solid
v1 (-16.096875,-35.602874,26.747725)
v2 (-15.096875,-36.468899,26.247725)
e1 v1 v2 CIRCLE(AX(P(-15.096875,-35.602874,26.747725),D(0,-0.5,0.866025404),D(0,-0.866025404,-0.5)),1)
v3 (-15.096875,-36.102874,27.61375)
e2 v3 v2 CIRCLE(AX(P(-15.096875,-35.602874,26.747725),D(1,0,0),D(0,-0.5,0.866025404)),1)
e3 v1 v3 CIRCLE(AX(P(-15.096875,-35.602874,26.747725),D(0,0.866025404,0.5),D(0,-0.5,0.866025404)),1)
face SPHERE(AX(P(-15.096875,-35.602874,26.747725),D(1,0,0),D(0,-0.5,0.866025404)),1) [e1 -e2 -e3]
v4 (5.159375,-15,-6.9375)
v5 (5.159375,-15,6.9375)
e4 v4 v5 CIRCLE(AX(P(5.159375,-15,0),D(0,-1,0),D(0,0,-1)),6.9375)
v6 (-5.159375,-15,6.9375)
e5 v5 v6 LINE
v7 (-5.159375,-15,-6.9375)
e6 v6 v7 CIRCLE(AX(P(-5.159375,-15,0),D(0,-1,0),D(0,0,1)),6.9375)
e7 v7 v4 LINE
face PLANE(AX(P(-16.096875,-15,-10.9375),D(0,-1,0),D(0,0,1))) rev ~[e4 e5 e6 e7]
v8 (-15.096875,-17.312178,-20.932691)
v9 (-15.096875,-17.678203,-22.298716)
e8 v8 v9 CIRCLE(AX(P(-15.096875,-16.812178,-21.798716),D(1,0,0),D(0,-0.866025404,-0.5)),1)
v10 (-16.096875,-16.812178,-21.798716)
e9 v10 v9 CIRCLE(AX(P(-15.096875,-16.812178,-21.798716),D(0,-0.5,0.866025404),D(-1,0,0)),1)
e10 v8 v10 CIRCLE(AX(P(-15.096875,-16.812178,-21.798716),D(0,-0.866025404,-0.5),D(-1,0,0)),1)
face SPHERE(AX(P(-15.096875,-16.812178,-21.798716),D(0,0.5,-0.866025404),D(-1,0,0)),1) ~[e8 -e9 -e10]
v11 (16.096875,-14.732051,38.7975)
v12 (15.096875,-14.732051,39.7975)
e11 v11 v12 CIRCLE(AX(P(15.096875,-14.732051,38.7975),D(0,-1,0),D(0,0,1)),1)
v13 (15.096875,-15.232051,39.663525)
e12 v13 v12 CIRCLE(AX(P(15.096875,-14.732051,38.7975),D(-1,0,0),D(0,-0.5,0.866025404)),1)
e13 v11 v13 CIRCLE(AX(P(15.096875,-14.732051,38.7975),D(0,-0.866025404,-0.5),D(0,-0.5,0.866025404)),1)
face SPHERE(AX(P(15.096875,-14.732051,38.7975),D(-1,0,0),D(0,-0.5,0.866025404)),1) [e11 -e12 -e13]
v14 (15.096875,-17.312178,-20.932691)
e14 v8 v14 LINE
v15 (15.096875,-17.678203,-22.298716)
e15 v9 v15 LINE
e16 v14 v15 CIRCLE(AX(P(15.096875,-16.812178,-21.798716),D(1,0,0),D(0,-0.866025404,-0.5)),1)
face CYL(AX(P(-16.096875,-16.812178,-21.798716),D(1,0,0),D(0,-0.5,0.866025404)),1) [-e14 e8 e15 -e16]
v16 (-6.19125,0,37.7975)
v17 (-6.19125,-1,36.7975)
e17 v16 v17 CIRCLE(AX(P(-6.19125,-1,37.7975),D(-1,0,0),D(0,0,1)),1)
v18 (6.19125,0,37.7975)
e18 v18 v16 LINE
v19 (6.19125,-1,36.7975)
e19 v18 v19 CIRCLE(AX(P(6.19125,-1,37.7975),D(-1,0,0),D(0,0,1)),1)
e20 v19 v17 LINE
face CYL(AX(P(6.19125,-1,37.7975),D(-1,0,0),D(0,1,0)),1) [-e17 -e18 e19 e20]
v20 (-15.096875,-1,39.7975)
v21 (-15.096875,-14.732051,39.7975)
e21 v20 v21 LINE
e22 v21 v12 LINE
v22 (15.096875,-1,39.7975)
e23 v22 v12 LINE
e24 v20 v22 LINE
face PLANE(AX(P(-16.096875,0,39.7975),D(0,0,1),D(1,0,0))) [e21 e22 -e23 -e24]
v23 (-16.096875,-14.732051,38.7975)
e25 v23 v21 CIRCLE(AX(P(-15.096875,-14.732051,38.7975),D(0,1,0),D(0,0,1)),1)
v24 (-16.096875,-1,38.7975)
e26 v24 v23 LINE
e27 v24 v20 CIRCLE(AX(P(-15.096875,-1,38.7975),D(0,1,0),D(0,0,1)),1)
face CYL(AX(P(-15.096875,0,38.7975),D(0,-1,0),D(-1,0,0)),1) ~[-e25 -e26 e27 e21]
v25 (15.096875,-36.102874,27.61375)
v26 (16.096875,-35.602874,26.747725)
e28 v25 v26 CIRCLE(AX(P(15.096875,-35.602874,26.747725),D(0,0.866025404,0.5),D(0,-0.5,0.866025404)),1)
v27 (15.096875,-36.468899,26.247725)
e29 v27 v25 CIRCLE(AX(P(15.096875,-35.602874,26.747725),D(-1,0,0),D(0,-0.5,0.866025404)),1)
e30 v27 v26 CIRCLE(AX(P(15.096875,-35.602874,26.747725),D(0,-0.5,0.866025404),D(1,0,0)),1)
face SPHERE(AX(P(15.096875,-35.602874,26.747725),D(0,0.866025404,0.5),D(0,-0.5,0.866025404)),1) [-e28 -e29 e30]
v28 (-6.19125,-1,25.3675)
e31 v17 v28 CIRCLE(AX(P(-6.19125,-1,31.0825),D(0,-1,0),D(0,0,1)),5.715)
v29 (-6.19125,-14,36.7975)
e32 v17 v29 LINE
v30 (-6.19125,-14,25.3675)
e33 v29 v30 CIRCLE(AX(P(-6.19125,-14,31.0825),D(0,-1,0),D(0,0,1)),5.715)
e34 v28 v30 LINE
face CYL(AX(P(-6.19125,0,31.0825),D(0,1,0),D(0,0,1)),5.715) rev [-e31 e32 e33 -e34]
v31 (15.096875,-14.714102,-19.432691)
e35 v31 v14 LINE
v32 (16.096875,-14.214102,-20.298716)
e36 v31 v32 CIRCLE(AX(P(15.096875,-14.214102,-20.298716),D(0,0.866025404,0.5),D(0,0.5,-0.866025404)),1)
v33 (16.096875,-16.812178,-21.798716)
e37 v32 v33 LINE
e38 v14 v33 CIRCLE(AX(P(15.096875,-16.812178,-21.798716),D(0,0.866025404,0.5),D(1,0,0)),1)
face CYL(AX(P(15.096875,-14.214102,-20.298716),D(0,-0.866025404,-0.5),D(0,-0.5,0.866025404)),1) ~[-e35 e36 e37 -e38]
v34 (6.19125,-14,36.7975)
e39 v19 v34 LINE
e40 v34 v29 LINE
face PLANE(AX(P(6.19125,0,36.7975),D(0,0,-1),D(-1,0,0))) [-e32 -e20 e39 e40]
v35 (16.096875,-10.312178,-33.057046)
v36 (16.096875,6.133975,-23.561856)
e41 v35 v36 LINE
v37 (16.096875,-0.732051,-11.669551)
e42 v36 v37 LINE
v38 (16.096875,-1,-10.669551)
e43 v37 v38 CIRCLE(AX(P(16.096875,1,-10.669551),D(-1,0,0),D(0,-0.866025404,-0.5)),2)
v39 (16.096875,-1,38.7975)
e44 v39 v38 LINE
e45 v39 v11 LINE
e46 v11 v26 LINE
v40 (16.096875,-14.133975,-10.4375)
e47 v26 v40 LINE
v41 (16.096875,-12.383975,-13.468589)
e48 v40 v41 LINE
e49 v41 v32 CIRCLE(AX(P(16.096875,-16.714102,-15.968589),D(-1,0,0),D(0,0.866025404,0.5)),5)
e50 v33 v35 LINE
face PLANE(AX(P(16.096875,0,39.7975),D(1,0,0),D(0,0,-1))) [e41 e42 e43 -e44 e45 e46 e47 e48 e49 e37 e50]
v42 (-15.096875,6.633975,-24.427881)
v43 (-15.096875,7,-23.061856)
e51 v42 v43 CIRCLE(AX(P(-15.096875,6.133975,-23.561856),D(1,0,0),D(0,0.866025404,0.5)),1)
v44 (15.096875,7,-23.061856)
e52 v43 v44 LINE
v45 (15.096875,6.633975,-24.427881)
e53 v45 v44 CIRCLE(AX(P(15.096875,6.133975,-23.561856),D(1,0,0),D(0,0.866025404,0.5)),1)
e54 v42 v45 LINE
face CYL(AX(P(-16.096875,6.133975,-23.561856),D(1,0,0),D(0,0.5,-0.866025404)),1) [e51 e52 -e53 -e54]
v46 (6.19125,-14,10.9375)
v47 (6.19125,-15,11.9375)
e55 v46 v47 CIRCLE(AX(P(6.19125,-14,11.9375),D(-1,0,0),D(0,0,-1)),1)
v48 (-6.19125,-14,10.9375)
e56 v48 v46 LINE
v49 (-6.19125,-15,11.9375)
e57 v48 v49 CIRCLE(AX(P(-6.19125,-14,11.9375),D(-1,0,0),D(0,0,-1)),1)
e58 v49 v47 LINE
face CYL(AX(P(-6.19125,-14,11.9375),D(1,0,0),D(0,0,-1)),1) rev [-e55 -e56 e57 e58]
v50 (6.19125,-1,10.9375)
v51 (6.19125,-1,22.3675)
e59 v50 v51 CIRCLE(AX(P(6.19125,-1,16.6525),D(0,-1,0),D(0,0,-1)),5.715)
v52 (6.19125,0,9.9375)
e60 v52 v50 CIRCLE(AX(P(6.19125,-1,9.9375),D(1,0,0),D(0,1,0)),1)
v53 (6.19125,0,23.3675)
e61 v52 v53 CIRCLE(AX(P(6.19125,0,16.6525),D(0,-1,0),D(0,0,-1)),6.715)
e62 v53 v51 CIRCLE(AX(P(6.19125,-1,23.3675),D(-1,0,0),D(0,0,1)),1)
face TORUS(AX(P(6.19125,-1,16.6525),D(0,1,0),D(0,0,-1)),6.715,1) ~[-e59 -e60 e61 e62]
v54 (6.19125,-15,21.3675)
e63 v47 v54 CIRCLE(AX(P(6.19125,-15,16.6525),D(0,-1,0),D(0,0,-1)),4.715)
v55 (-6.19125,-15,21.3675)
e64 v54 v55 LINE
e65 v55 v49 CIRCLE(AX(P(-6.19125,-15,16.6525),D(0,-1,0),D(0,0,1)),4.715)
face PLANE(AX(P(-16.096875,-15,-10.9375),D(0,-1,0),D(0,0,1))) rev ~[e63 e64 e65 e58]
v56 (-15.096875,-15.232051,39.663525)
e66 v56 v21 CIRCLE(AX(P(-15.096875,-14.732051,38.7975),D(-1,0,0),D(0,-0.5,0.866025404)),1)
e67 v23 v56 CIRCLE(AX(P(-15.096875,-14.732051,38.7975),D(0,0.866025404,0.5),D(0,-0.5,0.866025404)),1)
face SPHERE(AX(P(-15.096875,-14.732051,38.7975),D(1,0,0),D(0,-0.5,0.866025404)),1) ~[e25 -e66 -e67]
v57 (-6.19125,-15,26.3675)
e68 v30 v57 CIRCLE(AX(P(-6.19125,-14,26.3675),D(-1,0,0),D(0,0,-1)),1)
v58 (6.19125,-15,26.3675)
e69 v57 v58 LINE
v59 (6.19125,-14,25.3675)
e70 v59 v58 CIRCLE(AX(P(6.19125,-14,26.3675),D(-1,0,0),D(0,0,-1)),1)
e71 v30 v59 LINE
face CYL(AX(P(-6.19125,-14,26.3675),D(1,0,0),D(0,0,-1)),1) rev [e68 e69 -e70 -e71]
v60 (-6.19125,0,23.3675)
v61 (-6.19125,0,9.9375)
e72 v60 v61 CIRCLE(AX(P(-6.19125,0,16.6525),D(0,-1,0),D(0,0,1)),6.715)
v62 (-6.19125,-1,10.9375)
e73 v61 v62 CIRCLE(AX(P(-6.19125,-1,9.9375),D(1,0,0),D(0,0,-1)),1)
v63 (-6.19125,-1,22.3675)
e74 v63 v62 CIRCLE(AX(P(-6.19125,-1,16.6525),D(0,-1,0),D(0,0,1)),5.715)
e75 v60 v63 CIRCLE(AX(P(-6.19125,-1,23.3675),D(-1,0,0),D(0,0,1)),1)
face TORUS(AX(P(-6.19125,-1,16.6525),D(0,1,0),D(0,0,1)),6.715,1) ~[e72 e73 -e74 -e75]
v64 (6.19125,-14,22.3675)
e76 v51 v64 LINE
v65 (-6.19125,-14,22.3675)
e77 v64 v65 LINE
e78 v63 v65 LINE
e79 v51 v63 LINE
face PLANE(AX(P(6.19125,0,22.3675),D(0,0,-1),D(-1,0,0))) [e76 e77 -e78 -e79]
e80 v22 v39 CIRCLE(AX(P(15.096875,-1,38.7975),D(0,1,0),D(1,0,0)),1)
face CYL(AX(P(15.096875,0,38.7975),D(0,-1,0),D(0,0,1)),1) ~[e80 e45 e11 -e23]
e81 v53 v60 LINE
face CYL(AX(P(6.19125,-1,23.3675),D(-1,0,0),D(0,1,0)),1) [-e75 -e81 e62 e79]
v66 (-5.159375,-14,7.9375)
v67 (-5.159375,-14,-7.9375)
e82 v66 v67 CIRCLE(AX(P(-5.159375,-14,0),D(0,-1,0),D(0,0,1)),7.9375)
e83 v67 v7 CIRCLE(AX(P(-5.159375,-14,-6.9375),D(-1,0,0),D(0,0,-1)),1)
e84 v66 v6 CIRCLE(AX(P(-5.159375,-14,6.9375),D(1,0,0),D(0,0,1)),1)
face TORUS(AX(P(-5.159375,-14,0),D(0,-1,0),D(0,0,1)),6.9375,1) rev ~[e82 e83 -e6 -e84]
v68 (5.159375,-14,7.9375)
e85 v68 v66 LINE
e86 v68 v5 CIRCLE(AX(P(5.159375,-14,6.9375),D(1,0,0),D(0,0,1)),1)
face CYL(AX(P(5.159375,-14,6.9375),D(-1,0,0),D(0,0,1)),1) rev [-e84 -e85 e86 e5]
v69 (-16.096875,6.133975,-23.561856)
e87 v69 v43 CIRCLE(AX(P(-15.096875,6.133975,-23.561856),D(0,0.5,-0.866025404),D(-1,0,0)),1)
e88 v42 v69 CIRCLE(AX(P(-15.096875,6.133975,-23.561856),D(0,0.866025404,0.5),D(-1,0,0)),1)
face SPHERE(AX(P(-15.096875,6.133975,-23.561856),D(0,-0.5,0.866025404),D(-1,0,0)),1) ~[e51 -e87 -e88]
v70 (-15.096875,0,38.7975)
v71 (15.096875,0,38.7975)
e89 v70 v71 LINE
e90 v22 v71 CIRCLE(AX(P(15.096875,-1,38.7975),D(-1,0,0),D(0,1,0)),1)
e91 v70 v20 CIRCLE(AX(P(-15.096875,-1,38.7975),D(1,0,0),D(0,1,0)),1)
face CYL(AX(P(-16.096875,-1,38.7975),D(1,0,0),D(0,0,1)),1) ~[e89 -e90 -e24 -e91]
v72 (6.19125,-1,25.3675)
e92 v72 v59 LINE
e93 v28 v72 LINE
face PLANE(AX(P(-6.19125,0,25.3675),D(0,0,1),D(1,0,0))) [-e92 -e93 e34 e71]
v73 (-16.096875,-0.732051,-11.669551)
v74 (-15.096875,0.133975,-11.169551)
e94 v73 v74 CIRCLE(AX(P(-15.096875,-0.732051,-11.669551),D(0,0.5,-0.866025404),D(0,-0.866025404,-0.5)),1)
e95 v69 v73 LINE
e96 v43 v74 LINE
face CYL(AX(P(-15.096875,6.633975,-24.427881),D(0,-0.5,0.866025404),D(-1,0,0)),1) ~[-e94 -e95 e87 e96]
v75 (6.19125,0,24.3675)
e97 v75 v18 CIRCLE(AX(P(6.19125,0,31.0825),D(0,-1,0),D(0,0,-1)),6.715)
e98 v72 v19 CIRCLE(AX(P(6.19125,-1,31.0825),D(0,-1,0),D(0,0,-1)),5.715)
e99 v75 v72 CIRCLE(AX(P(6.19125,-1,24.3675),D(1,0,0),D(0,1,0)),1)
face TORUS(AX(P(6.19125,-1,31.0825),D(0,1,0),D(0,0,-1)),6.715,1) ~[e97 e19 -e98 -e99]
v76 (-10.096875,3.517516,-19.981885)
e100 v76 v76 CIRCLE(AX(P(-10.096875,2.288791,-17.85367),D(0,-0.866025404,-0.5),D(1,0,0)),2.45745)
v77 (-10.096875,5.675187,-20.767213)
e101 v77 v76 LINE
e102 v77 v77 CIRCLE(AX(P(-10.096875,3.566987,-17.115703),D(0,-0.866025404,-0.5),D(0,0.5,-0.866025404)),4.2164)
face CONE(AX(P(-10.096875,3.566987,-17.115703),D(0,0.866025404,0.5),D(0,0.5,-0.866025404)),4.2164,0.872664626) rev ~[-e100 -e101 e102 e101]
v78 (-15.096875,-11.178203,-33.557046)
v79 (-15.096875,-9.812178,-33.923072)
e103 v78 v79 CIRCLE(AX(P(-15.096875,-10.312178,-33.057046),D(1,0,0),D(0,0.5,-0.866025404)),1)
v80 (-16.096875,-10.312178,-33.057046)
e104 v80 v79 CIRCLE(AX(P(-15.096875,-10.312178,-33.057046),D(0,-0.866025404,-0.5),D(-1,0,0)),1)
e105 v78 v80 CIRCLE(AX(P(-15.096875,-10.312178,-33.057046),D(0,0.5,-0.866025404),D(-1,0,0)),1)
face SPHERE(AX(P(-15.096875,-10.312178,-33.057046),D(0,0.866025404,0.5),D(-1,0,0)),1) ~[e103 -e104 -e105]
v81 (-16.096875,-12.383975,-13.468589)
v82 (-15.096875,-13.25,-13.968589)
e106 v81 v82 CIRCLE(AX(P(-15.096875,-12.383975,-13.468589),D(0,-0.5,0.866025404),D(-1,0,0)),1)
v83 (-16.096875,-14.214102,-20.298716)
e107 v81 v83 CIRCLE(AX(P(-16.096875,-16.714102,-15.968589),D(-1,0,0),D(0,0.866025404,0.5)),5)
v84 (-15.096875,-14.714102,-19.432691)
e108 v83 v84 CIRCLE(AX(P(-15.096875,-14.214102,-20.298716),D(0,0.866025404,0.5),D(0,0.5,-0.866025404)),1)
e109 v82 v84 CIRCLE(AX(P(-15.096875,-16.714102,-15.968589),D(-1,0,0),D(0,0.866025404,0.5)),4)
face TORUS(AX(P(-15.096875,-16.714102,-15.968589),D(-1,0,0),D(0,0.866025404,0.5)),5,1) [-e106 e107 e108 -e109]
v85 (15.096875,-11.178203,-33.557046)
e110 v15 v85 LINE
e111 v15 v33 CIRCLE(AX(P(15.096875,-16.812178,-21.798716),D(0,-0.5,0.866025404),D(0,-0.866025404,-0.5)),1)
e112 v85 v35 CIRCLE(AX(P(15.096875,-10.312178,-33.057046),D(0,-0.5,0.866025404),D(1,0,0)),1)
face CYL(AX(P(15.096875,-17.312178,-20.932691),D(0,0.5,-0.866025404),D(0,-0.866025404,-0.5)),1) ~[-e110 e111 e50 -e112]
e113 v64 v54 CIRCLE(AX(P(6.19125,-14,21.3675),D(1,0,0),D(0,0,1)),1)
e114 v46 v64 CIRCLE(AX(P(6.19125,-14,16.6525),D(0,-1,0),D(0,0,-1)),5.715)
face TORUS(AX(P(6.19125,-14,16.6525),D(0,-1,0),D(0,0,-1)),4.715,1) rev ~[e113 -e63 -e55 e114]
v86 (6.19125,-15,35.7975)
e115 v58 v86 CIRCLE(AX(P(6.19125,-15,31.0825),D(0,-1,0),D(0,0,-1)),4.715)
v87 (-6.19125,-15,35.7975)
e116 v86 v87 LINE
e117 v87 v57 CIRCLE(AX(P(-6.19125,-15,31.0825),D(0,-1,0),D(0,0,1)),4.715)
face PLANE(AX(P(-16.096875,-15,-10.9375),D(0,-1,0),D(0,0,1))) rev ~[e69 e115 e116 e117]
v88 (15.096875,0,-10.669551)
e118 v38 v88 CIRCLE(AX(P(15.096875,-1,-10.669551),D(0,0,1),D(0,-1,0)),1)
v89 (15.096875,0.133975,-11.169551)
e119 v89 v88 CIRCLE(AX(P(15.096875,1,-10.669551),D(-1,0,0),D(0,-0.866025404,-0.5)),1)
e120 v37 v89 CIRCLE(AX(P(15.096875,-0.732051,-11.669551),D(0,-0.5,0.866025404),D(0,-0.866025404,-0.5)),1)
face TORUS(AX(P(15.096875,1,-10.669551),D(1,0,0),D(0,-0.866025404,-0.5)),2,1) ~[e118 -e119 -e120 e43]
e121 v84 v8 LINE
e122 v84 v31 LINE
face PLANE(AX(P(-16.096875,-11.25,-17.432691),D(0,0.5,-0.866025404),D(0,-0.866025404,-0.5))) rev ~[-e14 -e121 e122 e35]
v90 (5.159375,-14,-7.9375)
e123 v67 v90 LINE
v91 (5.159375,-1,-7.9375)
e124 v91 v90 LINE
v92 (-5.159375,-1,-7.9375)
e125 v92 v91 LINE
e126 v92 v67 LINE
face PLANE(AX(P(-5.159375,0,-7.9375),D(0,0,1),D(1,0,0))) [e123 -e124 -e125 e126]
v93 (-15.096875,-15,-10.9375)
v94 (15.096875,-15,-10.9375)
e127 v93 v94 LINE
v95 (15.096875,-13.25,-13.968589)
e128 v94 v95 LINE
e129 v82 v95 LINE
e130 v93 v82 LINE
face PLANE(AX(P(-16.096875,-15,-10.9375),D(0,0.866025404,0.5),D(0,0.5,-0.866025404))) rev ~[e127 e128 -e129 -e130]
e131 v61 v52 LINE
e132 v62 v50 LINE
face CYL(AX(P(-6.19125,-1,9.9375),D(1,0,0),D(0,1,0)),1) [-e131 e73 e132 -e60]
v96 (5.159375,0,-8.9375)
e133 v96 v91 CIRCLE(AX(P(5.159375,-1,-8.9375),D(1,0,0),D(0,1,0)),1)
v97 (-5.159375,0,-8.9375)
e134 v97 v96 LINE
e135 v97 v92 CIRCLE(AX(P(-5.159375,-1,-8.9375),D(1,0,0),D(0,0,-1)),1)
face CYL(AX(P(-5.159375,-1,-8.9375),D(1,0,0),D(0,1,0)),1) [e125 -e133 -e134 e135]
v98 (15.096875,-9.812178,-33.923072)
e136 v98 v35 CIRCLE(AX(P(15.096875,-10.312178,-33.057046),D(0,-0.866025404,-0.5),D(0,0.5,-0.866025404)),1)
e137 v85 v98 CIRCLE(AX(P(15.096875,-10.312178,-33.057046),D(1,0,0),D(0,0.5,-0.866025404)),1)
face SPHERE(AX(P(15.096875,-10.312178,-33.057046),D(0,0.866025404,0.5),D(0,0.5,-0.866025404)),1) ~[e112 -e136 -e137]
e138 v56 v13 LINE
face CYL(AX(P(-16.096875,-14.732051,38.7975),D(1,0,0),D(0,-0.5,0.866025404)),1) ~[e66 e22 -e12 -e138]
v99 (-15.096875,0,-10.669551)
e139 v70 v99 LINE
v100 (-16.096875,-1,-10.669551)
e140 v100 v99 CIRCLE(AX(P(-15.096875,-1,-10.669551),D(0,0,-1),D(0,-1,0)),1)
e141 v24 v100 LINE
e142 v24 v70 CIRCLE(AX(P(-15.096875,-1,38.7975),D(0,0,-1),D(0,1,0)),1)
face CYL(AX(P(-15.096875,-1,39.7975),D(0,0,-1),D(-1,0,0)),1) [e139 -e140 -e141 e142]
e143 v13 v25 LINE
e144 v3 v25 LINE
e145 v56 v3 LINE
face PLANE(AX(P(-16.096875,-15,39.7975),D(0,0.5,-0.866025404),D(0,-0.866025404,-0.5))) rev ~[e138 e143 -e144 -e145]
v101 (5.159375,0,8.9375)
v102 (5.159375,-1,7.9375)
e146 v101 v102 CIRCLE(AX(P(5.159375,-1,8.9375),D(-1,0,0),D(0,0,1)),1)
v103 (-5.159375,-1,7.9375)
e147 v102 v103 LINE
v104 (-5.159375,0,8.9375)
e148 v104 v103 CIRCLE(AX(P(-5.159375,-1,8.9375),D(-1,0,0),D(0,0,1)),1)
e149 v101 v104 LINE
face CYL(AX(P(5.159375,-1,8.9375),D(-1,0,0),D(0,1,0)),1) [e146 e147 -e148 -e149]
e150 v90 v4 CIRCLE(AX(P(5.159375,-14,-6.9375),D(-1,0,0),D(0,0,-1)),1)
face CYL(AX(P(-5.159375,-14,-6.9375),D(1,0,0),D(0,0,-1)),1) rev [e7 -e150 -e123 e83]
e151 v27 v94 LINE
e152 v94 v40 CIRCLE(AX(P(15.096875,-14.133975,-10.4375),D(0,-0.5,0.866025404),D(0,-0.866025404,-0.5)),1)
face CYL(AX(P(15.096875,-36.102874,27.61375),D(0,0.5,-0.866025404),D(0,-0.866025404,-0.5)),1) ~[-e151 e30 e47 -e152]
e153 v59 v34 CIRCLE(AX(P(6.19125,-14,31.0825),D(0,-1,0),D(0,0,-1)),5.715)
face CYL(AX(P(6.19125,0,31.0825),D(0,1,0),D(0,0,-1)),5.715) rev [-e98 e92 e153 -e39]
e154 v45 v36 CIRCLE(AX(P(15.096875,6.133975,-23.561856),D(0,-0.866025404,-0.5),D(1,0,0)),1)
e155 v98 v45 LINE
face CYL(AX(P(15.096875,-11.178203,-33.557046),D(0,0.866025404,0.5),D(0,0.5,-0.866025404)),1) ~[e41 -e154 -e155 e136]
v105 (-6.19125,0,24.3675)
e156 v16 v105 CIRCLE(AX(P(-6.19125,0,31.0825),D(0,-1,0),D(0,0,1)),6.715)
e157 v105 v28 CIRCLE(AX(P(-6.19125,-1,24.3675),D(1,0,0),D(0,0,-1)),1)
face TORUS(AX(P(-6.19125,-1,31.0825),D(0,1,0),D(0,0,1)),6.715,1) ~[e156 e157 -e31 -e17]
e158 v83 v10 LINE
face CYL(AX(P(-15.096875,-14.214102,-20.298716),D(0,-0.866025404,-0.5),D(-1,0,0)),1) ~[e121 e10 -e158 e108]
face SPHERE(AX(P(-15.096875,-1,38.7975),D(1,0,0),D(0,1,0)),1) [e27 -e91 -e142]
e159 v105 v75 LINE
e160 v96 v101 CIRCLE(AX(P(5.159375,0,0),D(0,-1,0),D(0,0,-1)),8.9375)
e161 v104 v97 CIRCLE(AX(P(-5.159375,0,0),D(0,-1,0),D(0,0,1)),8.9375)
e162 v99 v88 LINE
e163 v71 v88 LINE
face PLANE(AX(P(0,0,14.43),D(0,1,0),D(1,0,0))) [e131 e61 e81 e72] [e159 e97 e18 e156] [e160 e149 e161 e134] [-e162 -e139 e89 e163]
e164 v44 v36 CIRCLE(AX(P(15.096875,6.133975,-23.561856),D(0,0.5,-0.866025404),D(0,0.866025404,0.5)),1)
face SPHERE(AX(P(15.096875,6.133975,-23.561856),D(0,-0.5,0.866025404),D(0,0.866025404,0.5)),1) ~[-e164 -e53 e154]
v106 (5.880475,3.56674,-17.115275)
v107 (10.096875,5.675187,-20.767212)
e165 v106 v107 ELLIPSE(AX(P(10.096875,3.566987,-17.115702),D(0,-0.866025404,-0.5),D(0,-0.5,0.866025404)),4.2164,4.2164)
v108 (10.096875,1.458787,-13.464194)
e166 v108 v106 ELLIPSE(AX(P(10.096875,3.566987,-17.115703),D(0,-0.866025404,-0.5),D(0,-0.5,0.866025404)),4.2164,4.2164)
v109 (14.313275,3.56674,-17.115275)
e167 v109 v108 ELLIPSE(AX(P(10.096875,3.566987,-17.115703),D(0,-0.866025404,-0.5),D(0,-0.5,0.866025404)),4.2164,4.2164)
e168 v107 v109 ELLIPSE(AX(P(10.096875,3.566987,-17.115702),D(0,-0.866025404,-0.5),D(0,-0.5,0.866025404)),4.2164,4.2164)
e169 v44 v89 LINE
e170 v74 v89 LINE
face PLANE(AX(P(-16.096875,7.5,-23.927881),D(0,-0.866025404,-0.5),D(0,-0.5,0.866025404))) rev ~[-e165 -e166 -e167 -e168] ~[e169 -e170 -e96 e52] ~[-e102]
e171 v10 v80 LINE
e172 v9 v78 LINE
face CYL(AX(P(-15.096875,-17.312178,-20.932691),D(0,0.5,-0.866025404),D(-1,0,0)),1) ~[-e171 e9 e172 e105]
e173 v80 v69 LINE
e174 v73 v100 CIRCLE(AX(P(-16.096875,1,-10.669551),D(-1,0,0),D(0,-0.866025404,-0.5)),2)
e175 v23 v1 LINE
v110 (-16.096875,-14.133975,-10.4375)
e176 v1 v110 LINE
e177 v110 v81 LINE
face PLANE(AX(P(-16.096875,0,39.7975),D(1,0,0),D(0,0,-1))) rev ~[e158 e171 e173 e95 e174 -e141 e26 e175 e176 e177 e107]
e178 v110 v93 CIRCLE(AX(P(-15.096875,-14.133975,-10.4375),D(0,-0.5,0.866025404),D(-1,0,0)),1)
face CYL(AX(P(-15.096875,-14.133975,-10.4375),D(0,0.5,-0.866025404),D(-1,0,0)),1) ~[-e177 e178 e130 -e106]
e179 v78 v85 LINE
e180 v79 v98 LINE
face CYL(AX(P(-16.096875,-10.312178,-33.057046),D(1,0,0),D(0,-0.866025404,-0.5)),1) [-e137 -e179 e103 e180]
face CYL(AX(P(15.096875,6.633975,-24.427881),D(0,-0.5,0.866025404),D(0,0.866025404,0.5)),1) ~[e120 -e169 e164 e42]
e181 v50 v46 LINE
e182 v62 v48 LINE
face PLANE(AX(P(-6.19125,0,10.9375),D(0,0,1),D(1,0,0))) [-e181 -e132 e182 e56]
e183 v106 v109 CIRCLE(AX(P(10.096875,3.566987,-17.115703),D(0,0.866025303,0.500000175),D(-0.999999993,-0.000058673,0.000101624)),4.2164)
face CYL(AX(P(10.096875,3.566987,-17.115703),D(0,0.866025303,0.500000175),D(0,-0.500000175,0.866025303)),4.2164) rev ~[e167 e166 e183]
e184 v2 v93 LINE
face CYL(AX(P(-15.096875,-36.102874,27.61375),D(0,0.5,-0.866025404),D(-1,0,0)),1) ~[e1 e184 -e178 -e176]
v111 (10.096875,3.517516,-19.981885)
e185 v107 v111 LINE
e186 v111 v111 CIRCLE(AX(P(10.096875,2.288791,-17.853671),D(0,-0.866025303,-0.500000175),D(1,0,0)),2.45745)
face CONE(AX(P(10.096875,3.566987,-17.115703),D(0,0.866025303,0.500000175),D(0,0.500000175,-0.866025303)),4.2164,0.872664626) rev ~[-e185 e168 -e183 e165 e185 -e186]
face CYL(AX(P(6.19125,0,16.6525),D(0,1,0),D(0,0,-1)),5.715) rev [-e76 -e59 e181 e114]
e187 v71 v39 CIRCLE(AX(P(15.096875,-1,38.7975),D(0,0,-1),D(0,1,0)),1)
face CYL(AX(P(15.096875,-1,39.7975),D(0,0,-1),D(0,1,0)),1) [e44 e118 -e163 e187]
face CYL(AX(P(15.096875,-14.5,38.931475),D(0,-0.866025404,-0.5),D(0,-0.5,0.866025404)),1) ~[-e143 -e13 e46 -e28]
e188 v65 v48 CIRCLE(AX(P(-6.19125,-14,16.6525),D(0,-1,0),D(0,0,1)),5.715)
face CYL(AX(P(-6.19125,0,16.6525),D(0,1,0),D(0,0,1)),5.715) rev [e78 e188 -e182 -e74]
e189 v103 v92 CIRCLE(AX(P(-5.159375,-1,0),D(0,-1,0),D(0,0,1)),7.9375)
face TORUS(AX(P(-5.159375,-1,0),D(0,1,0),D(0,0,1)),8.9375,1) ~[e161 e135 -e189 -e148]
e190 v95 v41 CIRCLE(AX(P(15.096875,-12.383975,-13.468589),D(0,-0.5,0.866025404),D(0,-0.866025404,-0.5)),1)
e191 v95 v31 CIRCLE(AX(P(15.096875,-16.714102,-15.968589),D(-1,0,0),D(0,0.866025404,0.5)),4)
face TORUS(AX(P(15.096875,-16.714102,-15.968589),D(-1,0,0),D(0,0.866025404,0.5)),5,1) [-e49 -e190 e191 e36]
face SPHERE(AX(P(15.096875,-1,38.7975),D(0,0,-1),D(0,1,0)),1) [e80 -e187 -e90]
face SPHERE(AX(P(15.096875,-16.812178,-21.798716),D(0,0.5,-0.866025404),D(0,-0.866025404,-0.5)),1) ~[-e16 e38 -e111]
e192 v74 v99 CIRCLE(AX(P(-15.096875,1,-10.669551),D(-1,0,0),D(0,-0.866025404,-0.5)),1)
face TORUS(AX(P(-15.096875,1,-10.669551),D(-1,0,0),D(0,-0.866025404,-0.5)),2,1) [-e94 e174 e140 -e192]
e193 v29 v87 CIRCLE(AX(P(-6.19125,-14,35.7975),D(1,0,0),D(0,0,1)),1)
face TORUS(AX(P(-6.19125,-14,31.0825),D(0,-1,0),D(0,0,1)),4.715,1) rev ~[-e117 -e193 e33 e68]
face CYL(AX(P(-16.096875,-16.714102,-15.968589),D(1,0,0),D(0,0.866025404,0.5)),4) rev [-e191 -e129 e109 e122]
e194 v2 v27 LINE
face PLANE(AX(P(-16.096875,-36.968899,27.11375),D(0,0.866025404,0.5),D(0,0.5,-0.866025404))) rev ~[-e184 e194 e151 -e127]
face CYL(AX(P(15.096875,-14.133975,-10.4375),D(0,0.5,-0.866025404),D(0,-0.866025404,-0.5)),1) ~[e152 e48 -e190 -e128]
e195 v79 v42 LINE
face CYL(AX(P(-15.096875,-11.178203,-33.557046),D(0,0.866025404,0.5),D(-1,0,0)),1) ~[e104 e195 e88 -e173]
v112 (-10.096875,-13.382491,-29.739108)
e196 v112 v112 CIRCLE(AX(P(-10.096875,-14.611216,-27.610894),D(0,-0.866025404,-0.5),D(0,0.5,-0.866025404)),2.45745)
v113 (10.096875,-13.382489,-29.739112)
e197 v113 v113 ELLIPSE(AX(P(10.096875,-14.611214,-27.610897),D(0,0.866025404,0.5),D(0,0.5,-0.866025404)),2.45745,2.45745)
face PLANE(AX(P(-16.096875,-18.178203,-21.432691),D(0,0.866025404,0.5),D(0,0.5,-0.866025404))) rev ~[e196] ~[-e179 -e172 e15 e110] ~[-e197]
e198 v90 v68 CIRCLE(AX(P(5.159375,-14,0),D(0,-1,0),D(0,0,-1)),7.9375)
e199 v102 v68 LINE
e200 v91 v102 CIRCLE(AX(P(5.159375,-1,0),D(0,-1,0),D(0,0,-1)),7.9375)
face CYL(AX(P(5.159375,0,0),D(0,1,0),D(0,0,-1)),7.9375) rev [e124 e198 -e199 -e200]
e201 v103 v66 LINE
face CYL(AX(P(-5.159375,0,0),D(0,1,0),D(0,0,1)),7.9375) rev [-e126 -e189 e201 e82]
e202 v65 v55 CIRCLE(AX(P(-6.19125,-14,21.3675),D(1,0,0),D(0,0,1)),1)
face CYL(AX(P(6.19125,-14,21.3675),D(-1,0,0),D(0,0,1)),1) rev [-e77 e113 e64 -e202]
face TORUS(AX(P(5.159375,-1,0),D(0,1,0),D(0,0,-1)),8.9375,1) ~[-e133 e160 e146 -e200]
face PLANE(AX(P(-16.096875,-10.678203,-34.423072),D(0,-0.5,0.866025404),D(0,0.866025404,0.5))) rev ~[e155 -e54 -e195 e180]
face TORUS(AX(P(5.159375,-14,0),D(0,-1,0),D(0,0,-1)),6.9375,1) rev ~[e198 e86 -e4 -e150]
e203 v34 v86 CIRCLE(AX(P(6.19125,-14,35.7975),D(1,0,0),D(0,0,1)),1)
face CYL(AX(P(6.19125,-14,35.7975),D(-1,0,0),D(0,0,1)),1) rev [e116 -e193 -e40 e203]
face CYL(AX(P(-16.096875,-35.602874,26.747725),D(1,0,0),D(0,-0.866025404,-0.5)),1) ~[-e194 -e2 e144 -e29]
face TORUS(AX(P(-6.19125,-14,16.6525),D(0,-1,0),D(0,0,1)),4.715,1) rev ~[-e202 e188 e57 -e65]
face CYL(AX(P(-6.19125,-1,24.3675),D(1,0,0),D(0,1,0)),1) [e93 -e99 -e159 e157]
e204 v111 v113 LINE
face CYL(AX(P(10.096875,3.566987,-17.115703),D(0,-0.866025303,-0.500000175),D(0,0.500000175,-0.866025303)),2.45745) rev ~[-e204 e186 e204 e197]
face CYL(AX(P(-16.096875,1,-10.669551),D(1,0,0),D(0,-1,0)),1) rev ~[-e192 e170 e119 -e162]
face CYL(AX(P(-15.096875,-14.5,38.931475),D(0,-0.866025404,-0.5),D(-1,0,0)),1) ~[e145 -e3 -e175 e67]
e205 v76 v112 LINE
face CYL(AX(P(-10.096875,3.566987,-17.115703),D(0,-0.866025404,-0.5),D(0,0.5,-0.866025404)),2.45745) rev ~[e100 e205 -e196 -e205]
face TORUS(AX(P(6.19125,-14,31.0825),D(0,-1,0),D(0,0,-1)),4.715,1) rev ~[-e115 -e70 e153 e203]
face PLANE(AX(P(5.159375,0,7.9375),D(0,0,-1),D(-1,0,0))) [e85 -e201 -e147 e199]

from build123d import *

# Parameters (mm, degrees)
SKETCH1_W                                         = 32.19375
SKETCH1_H                                         = 50.735
BOSS_EXTRUDE1_DEPTH                               = 15
BOSS_EXTRUDE2_START                               = -16.096875
BOSS_EXTRUDE2_DEPTH                               = 32.19375
FILLET2_R                                         = 4
FILLET1_R                                         = 1
CSK_FOR_8_FLAT_HEAD_MACHINE_SCREW_100_D           = 4.9149
CSK_FOR_8_FLAT_HEAD_MACHINE_SCREW_100_CSINK_D     = 8.4328
CSK_FOR_8_FLAT_HEAD_MACHINE_SCREW_100_CSINK_ANGLE = 100
CSK_FOR_8_FLAT_HEAD_MACHINE_SCREW_2_D             = 4.9149
CSK_FOR_8_FLAT_HEAD_MACHINE_SCREW_2_CSINK_D       = 8.4328
CSK_FOR_8_FLAT_HEAD_MACHINE_SCREW_2_CSINK_ANGLE   = 100
FILLET3_R                                         = 1


with BuildPart() as part:
    # Sketch1 → Boss-Extrude1 (new body)
    with BuildSketch(Plane(origin=(0, 0, 0), x_dir=(1, 0, 0), z_dir=(0, 1, 0))):
        with Locations((0, -14.43)):
            Rectangle(SKETCH1_W, SKETCH1_H)
        with BuildLine():
            Line((-5.159375, 7.9375), (5.159375, 7.9375))
            ThreePointArc((5.159375, 7.9375), (13.096875, 0), (5.159375, -7.9375))
            Line((5.159375, -7.9375), (-5.159375, -7.9375))
            ThreePointArc((-5.159375, -7.9375), (-13.096875, 0), (-5.159375, 7.9375))
        make_face(mode=Mode.SUBTRACT)
        with BuildLine():
            Line((-6.19125, -10.9375), (6.19125, -10.9375))
            ThreePointArc((6.19125, -10.9375), (11.90625, -16.6525), (6.19125, -22.3675))
            Line((6.19125, -22.3675), (-6.19125, -22.3675))
            ThreePointArc((-6.19125, -22.3675), (-11.90625, -16.6525), (-6.19125, -10.9375))
        make_face(mode=Mode.SUBTRACT)
        with BuildLine():
            Line((-6.19125, -25.3675), (6.19125, -25.3675))
            ThreePointArc((6.19125, -25.3675), (11.90625, -31.0825), (6.19125, -36.7975))
            Line((6.19125, -36.7975), (-6.19125, -36.7975))
            ThreePointArc((-6.19125, -36.7975), (-11.90625, -31.0825), (-6.19125, -25.3675))
        make_face(mode=Mode.SUBTRACT)
    extrude(amount=-BOSS_EXTRUDE1_DEPTH)

    # Sketch2 → Boss-Extrude2 (add)
    with BuildSketch(Plane(origin=(0, 0, 0), x_dir=(0, 0, -1), z_dir=(1, 0, 0)).offset(BOSS_EXTRUDE2_START)):
        Polygon((10.9375, -15), (-39.7975, -15), (-27.11375, -36.968899431), align=None)
        Polygon((10.9375, 0), (10.9375, -15), (17.432690528, -11.25), (21.432690528, -18.17820323), (34.423071585, -10.67820323), (23.927881057, 7.5), align=None)
    extrude(amount=BOSS_EXTRUDE2_DEPTH)

    # Fillet2
    fillet2_edges = [part.edges().sort_by_distance(p)[0] for p in [
        (0, -11.25, -17.432690528),
    ]]
    fillet(fillet2_edges, radius=FILLET2_R)

    # Fillet1
    fillet1_edges = [part.edges().sort_by_distance(p)[0] for p in [
        (0, -15, 39.7975),
        (-13.096875, 0, 0),
        (0, 0, 7.9375),
        (13.096875, 0, 0),
        (0, 0, -7.9375),
        (-11.90625, 0, 16.6525),
        (0, 0, 22.3675),
        (11.90625, 0, 16.6525),
        (0, 0, 10.9375),
        (-11.90625, 0, 31.0825),
        (0, 0, 36.7975),
        (11.90625, 0, 31.0825),
        (0, 0, 25.3675),
        (16.096875, 0, 14.43),
        (0, 0, 39.7975),
        (16.096875, -25.984449715, 33.455625),
        (0, -36.968899431, 27.11375),
        (-16.096875, 0, 14.43),
        (-16.096875, -25.984449715, 33.455625),
        (0, 0, -10.9375),
        (-16.096875, 3.75, -17.432690528),
        (-16.096875, -1.589101615, -29.175476321),
        (-16.096875, -14.42820323, -27.927881057),
        (-16.096875, -16.446152423, -20.432690528),
        (16.096875, 3.75, -17.432690528),
        (0, 7.5, -23.927881057),
        (16.096875, -1.589101615, -29.175476321),
        (0, -10.67820323, -34.423071585),
        (16.096875, -14.42820323, -27.927881057),
        (0, -18.17820323, -21.432690528),
        (16.096875, -16.446152423, -20.432690528),
        (16.096875, -7.5, 39.7975),
        (-16.096875, -7.5, 39.7975),
        (-16.096875, -25.109449715, 6.572580543),
        (16.096875, -25.109449715, 6.572580543),
        (-16.096875, -12.85039831, -17.003865094),
        (16.096875, -12.85039831, -17.003865094),
    ]]
    fillet(fillet1_edges, radius=FILLET1_R)

    # CSK for #8 Flat Head Machine Screw (100)1 (through all)
    with Locations(Plane(origin=(-10.096875, 3.566987298, -17.11570323), x_dir=(0, -0.5, 0.866025404), z_dir=(0, 0.866025404, 0.5))):
        with Locations((0, 0)):
            CounterSinkHole(CSK_FOR_8_FLAT_HEAD_MACHINE_SCREW_100_D / 2, CSK_FOR_8_FLAT_HEAD_MACHINE_SCREW_100_CSINK_D / 2, counter_sink_angle=CSK_FOR_8_FLAT_HEAD_MACHINE_SCREW_100_CSINK_ANGLE)

    # CSK for _8 Flat Head Machine Screw _ 2 (through all)
    with Locations(Plane(origin=(10.096875, 3.566987298, -17.11570323), x_dir=(0, -0.500000175, 0.866025303), z_dir=(0, 0.866025303, 0.500000175))):
        with Locations((0, 0)):
            CounterSinkHole(CSK_FOR_8_FLAT_HEAD_MACHINE_SCREW_2_D / 2, CSK_FOR_8_FLAT_HEAD_MACHINE_SCREW_2_CSINK_D / 2, counter_sink_angle=CSK_FOR_8_FLAT_HEAD_MACHINE_SCREW_2_CSINK_ANGLE)

    # Fillet3
    fillet3_edges = [part.edges().sort_by_distance(p)[0] for p in [
        (-13.096875, -15, 0),
        (0, -15, -7.9375),
        (13.096875, -15, 0),
        (0, -15, 7.9375),
        (-11.90625, -15, 16.6525),
        (0, -15, 10.9375),
        (11.90625, -15, 16.6525),
        (0, -15, 22.3675),
        (-11.90625, -15, 31.0825),
        (0, -15, 25.3675),
        (11.90625, -15, 31.0825),
        (0, -15, 36.7975),
    ]]
    fillet(fillet3_edges, radius=FILLET3_R)


solid = part.part
